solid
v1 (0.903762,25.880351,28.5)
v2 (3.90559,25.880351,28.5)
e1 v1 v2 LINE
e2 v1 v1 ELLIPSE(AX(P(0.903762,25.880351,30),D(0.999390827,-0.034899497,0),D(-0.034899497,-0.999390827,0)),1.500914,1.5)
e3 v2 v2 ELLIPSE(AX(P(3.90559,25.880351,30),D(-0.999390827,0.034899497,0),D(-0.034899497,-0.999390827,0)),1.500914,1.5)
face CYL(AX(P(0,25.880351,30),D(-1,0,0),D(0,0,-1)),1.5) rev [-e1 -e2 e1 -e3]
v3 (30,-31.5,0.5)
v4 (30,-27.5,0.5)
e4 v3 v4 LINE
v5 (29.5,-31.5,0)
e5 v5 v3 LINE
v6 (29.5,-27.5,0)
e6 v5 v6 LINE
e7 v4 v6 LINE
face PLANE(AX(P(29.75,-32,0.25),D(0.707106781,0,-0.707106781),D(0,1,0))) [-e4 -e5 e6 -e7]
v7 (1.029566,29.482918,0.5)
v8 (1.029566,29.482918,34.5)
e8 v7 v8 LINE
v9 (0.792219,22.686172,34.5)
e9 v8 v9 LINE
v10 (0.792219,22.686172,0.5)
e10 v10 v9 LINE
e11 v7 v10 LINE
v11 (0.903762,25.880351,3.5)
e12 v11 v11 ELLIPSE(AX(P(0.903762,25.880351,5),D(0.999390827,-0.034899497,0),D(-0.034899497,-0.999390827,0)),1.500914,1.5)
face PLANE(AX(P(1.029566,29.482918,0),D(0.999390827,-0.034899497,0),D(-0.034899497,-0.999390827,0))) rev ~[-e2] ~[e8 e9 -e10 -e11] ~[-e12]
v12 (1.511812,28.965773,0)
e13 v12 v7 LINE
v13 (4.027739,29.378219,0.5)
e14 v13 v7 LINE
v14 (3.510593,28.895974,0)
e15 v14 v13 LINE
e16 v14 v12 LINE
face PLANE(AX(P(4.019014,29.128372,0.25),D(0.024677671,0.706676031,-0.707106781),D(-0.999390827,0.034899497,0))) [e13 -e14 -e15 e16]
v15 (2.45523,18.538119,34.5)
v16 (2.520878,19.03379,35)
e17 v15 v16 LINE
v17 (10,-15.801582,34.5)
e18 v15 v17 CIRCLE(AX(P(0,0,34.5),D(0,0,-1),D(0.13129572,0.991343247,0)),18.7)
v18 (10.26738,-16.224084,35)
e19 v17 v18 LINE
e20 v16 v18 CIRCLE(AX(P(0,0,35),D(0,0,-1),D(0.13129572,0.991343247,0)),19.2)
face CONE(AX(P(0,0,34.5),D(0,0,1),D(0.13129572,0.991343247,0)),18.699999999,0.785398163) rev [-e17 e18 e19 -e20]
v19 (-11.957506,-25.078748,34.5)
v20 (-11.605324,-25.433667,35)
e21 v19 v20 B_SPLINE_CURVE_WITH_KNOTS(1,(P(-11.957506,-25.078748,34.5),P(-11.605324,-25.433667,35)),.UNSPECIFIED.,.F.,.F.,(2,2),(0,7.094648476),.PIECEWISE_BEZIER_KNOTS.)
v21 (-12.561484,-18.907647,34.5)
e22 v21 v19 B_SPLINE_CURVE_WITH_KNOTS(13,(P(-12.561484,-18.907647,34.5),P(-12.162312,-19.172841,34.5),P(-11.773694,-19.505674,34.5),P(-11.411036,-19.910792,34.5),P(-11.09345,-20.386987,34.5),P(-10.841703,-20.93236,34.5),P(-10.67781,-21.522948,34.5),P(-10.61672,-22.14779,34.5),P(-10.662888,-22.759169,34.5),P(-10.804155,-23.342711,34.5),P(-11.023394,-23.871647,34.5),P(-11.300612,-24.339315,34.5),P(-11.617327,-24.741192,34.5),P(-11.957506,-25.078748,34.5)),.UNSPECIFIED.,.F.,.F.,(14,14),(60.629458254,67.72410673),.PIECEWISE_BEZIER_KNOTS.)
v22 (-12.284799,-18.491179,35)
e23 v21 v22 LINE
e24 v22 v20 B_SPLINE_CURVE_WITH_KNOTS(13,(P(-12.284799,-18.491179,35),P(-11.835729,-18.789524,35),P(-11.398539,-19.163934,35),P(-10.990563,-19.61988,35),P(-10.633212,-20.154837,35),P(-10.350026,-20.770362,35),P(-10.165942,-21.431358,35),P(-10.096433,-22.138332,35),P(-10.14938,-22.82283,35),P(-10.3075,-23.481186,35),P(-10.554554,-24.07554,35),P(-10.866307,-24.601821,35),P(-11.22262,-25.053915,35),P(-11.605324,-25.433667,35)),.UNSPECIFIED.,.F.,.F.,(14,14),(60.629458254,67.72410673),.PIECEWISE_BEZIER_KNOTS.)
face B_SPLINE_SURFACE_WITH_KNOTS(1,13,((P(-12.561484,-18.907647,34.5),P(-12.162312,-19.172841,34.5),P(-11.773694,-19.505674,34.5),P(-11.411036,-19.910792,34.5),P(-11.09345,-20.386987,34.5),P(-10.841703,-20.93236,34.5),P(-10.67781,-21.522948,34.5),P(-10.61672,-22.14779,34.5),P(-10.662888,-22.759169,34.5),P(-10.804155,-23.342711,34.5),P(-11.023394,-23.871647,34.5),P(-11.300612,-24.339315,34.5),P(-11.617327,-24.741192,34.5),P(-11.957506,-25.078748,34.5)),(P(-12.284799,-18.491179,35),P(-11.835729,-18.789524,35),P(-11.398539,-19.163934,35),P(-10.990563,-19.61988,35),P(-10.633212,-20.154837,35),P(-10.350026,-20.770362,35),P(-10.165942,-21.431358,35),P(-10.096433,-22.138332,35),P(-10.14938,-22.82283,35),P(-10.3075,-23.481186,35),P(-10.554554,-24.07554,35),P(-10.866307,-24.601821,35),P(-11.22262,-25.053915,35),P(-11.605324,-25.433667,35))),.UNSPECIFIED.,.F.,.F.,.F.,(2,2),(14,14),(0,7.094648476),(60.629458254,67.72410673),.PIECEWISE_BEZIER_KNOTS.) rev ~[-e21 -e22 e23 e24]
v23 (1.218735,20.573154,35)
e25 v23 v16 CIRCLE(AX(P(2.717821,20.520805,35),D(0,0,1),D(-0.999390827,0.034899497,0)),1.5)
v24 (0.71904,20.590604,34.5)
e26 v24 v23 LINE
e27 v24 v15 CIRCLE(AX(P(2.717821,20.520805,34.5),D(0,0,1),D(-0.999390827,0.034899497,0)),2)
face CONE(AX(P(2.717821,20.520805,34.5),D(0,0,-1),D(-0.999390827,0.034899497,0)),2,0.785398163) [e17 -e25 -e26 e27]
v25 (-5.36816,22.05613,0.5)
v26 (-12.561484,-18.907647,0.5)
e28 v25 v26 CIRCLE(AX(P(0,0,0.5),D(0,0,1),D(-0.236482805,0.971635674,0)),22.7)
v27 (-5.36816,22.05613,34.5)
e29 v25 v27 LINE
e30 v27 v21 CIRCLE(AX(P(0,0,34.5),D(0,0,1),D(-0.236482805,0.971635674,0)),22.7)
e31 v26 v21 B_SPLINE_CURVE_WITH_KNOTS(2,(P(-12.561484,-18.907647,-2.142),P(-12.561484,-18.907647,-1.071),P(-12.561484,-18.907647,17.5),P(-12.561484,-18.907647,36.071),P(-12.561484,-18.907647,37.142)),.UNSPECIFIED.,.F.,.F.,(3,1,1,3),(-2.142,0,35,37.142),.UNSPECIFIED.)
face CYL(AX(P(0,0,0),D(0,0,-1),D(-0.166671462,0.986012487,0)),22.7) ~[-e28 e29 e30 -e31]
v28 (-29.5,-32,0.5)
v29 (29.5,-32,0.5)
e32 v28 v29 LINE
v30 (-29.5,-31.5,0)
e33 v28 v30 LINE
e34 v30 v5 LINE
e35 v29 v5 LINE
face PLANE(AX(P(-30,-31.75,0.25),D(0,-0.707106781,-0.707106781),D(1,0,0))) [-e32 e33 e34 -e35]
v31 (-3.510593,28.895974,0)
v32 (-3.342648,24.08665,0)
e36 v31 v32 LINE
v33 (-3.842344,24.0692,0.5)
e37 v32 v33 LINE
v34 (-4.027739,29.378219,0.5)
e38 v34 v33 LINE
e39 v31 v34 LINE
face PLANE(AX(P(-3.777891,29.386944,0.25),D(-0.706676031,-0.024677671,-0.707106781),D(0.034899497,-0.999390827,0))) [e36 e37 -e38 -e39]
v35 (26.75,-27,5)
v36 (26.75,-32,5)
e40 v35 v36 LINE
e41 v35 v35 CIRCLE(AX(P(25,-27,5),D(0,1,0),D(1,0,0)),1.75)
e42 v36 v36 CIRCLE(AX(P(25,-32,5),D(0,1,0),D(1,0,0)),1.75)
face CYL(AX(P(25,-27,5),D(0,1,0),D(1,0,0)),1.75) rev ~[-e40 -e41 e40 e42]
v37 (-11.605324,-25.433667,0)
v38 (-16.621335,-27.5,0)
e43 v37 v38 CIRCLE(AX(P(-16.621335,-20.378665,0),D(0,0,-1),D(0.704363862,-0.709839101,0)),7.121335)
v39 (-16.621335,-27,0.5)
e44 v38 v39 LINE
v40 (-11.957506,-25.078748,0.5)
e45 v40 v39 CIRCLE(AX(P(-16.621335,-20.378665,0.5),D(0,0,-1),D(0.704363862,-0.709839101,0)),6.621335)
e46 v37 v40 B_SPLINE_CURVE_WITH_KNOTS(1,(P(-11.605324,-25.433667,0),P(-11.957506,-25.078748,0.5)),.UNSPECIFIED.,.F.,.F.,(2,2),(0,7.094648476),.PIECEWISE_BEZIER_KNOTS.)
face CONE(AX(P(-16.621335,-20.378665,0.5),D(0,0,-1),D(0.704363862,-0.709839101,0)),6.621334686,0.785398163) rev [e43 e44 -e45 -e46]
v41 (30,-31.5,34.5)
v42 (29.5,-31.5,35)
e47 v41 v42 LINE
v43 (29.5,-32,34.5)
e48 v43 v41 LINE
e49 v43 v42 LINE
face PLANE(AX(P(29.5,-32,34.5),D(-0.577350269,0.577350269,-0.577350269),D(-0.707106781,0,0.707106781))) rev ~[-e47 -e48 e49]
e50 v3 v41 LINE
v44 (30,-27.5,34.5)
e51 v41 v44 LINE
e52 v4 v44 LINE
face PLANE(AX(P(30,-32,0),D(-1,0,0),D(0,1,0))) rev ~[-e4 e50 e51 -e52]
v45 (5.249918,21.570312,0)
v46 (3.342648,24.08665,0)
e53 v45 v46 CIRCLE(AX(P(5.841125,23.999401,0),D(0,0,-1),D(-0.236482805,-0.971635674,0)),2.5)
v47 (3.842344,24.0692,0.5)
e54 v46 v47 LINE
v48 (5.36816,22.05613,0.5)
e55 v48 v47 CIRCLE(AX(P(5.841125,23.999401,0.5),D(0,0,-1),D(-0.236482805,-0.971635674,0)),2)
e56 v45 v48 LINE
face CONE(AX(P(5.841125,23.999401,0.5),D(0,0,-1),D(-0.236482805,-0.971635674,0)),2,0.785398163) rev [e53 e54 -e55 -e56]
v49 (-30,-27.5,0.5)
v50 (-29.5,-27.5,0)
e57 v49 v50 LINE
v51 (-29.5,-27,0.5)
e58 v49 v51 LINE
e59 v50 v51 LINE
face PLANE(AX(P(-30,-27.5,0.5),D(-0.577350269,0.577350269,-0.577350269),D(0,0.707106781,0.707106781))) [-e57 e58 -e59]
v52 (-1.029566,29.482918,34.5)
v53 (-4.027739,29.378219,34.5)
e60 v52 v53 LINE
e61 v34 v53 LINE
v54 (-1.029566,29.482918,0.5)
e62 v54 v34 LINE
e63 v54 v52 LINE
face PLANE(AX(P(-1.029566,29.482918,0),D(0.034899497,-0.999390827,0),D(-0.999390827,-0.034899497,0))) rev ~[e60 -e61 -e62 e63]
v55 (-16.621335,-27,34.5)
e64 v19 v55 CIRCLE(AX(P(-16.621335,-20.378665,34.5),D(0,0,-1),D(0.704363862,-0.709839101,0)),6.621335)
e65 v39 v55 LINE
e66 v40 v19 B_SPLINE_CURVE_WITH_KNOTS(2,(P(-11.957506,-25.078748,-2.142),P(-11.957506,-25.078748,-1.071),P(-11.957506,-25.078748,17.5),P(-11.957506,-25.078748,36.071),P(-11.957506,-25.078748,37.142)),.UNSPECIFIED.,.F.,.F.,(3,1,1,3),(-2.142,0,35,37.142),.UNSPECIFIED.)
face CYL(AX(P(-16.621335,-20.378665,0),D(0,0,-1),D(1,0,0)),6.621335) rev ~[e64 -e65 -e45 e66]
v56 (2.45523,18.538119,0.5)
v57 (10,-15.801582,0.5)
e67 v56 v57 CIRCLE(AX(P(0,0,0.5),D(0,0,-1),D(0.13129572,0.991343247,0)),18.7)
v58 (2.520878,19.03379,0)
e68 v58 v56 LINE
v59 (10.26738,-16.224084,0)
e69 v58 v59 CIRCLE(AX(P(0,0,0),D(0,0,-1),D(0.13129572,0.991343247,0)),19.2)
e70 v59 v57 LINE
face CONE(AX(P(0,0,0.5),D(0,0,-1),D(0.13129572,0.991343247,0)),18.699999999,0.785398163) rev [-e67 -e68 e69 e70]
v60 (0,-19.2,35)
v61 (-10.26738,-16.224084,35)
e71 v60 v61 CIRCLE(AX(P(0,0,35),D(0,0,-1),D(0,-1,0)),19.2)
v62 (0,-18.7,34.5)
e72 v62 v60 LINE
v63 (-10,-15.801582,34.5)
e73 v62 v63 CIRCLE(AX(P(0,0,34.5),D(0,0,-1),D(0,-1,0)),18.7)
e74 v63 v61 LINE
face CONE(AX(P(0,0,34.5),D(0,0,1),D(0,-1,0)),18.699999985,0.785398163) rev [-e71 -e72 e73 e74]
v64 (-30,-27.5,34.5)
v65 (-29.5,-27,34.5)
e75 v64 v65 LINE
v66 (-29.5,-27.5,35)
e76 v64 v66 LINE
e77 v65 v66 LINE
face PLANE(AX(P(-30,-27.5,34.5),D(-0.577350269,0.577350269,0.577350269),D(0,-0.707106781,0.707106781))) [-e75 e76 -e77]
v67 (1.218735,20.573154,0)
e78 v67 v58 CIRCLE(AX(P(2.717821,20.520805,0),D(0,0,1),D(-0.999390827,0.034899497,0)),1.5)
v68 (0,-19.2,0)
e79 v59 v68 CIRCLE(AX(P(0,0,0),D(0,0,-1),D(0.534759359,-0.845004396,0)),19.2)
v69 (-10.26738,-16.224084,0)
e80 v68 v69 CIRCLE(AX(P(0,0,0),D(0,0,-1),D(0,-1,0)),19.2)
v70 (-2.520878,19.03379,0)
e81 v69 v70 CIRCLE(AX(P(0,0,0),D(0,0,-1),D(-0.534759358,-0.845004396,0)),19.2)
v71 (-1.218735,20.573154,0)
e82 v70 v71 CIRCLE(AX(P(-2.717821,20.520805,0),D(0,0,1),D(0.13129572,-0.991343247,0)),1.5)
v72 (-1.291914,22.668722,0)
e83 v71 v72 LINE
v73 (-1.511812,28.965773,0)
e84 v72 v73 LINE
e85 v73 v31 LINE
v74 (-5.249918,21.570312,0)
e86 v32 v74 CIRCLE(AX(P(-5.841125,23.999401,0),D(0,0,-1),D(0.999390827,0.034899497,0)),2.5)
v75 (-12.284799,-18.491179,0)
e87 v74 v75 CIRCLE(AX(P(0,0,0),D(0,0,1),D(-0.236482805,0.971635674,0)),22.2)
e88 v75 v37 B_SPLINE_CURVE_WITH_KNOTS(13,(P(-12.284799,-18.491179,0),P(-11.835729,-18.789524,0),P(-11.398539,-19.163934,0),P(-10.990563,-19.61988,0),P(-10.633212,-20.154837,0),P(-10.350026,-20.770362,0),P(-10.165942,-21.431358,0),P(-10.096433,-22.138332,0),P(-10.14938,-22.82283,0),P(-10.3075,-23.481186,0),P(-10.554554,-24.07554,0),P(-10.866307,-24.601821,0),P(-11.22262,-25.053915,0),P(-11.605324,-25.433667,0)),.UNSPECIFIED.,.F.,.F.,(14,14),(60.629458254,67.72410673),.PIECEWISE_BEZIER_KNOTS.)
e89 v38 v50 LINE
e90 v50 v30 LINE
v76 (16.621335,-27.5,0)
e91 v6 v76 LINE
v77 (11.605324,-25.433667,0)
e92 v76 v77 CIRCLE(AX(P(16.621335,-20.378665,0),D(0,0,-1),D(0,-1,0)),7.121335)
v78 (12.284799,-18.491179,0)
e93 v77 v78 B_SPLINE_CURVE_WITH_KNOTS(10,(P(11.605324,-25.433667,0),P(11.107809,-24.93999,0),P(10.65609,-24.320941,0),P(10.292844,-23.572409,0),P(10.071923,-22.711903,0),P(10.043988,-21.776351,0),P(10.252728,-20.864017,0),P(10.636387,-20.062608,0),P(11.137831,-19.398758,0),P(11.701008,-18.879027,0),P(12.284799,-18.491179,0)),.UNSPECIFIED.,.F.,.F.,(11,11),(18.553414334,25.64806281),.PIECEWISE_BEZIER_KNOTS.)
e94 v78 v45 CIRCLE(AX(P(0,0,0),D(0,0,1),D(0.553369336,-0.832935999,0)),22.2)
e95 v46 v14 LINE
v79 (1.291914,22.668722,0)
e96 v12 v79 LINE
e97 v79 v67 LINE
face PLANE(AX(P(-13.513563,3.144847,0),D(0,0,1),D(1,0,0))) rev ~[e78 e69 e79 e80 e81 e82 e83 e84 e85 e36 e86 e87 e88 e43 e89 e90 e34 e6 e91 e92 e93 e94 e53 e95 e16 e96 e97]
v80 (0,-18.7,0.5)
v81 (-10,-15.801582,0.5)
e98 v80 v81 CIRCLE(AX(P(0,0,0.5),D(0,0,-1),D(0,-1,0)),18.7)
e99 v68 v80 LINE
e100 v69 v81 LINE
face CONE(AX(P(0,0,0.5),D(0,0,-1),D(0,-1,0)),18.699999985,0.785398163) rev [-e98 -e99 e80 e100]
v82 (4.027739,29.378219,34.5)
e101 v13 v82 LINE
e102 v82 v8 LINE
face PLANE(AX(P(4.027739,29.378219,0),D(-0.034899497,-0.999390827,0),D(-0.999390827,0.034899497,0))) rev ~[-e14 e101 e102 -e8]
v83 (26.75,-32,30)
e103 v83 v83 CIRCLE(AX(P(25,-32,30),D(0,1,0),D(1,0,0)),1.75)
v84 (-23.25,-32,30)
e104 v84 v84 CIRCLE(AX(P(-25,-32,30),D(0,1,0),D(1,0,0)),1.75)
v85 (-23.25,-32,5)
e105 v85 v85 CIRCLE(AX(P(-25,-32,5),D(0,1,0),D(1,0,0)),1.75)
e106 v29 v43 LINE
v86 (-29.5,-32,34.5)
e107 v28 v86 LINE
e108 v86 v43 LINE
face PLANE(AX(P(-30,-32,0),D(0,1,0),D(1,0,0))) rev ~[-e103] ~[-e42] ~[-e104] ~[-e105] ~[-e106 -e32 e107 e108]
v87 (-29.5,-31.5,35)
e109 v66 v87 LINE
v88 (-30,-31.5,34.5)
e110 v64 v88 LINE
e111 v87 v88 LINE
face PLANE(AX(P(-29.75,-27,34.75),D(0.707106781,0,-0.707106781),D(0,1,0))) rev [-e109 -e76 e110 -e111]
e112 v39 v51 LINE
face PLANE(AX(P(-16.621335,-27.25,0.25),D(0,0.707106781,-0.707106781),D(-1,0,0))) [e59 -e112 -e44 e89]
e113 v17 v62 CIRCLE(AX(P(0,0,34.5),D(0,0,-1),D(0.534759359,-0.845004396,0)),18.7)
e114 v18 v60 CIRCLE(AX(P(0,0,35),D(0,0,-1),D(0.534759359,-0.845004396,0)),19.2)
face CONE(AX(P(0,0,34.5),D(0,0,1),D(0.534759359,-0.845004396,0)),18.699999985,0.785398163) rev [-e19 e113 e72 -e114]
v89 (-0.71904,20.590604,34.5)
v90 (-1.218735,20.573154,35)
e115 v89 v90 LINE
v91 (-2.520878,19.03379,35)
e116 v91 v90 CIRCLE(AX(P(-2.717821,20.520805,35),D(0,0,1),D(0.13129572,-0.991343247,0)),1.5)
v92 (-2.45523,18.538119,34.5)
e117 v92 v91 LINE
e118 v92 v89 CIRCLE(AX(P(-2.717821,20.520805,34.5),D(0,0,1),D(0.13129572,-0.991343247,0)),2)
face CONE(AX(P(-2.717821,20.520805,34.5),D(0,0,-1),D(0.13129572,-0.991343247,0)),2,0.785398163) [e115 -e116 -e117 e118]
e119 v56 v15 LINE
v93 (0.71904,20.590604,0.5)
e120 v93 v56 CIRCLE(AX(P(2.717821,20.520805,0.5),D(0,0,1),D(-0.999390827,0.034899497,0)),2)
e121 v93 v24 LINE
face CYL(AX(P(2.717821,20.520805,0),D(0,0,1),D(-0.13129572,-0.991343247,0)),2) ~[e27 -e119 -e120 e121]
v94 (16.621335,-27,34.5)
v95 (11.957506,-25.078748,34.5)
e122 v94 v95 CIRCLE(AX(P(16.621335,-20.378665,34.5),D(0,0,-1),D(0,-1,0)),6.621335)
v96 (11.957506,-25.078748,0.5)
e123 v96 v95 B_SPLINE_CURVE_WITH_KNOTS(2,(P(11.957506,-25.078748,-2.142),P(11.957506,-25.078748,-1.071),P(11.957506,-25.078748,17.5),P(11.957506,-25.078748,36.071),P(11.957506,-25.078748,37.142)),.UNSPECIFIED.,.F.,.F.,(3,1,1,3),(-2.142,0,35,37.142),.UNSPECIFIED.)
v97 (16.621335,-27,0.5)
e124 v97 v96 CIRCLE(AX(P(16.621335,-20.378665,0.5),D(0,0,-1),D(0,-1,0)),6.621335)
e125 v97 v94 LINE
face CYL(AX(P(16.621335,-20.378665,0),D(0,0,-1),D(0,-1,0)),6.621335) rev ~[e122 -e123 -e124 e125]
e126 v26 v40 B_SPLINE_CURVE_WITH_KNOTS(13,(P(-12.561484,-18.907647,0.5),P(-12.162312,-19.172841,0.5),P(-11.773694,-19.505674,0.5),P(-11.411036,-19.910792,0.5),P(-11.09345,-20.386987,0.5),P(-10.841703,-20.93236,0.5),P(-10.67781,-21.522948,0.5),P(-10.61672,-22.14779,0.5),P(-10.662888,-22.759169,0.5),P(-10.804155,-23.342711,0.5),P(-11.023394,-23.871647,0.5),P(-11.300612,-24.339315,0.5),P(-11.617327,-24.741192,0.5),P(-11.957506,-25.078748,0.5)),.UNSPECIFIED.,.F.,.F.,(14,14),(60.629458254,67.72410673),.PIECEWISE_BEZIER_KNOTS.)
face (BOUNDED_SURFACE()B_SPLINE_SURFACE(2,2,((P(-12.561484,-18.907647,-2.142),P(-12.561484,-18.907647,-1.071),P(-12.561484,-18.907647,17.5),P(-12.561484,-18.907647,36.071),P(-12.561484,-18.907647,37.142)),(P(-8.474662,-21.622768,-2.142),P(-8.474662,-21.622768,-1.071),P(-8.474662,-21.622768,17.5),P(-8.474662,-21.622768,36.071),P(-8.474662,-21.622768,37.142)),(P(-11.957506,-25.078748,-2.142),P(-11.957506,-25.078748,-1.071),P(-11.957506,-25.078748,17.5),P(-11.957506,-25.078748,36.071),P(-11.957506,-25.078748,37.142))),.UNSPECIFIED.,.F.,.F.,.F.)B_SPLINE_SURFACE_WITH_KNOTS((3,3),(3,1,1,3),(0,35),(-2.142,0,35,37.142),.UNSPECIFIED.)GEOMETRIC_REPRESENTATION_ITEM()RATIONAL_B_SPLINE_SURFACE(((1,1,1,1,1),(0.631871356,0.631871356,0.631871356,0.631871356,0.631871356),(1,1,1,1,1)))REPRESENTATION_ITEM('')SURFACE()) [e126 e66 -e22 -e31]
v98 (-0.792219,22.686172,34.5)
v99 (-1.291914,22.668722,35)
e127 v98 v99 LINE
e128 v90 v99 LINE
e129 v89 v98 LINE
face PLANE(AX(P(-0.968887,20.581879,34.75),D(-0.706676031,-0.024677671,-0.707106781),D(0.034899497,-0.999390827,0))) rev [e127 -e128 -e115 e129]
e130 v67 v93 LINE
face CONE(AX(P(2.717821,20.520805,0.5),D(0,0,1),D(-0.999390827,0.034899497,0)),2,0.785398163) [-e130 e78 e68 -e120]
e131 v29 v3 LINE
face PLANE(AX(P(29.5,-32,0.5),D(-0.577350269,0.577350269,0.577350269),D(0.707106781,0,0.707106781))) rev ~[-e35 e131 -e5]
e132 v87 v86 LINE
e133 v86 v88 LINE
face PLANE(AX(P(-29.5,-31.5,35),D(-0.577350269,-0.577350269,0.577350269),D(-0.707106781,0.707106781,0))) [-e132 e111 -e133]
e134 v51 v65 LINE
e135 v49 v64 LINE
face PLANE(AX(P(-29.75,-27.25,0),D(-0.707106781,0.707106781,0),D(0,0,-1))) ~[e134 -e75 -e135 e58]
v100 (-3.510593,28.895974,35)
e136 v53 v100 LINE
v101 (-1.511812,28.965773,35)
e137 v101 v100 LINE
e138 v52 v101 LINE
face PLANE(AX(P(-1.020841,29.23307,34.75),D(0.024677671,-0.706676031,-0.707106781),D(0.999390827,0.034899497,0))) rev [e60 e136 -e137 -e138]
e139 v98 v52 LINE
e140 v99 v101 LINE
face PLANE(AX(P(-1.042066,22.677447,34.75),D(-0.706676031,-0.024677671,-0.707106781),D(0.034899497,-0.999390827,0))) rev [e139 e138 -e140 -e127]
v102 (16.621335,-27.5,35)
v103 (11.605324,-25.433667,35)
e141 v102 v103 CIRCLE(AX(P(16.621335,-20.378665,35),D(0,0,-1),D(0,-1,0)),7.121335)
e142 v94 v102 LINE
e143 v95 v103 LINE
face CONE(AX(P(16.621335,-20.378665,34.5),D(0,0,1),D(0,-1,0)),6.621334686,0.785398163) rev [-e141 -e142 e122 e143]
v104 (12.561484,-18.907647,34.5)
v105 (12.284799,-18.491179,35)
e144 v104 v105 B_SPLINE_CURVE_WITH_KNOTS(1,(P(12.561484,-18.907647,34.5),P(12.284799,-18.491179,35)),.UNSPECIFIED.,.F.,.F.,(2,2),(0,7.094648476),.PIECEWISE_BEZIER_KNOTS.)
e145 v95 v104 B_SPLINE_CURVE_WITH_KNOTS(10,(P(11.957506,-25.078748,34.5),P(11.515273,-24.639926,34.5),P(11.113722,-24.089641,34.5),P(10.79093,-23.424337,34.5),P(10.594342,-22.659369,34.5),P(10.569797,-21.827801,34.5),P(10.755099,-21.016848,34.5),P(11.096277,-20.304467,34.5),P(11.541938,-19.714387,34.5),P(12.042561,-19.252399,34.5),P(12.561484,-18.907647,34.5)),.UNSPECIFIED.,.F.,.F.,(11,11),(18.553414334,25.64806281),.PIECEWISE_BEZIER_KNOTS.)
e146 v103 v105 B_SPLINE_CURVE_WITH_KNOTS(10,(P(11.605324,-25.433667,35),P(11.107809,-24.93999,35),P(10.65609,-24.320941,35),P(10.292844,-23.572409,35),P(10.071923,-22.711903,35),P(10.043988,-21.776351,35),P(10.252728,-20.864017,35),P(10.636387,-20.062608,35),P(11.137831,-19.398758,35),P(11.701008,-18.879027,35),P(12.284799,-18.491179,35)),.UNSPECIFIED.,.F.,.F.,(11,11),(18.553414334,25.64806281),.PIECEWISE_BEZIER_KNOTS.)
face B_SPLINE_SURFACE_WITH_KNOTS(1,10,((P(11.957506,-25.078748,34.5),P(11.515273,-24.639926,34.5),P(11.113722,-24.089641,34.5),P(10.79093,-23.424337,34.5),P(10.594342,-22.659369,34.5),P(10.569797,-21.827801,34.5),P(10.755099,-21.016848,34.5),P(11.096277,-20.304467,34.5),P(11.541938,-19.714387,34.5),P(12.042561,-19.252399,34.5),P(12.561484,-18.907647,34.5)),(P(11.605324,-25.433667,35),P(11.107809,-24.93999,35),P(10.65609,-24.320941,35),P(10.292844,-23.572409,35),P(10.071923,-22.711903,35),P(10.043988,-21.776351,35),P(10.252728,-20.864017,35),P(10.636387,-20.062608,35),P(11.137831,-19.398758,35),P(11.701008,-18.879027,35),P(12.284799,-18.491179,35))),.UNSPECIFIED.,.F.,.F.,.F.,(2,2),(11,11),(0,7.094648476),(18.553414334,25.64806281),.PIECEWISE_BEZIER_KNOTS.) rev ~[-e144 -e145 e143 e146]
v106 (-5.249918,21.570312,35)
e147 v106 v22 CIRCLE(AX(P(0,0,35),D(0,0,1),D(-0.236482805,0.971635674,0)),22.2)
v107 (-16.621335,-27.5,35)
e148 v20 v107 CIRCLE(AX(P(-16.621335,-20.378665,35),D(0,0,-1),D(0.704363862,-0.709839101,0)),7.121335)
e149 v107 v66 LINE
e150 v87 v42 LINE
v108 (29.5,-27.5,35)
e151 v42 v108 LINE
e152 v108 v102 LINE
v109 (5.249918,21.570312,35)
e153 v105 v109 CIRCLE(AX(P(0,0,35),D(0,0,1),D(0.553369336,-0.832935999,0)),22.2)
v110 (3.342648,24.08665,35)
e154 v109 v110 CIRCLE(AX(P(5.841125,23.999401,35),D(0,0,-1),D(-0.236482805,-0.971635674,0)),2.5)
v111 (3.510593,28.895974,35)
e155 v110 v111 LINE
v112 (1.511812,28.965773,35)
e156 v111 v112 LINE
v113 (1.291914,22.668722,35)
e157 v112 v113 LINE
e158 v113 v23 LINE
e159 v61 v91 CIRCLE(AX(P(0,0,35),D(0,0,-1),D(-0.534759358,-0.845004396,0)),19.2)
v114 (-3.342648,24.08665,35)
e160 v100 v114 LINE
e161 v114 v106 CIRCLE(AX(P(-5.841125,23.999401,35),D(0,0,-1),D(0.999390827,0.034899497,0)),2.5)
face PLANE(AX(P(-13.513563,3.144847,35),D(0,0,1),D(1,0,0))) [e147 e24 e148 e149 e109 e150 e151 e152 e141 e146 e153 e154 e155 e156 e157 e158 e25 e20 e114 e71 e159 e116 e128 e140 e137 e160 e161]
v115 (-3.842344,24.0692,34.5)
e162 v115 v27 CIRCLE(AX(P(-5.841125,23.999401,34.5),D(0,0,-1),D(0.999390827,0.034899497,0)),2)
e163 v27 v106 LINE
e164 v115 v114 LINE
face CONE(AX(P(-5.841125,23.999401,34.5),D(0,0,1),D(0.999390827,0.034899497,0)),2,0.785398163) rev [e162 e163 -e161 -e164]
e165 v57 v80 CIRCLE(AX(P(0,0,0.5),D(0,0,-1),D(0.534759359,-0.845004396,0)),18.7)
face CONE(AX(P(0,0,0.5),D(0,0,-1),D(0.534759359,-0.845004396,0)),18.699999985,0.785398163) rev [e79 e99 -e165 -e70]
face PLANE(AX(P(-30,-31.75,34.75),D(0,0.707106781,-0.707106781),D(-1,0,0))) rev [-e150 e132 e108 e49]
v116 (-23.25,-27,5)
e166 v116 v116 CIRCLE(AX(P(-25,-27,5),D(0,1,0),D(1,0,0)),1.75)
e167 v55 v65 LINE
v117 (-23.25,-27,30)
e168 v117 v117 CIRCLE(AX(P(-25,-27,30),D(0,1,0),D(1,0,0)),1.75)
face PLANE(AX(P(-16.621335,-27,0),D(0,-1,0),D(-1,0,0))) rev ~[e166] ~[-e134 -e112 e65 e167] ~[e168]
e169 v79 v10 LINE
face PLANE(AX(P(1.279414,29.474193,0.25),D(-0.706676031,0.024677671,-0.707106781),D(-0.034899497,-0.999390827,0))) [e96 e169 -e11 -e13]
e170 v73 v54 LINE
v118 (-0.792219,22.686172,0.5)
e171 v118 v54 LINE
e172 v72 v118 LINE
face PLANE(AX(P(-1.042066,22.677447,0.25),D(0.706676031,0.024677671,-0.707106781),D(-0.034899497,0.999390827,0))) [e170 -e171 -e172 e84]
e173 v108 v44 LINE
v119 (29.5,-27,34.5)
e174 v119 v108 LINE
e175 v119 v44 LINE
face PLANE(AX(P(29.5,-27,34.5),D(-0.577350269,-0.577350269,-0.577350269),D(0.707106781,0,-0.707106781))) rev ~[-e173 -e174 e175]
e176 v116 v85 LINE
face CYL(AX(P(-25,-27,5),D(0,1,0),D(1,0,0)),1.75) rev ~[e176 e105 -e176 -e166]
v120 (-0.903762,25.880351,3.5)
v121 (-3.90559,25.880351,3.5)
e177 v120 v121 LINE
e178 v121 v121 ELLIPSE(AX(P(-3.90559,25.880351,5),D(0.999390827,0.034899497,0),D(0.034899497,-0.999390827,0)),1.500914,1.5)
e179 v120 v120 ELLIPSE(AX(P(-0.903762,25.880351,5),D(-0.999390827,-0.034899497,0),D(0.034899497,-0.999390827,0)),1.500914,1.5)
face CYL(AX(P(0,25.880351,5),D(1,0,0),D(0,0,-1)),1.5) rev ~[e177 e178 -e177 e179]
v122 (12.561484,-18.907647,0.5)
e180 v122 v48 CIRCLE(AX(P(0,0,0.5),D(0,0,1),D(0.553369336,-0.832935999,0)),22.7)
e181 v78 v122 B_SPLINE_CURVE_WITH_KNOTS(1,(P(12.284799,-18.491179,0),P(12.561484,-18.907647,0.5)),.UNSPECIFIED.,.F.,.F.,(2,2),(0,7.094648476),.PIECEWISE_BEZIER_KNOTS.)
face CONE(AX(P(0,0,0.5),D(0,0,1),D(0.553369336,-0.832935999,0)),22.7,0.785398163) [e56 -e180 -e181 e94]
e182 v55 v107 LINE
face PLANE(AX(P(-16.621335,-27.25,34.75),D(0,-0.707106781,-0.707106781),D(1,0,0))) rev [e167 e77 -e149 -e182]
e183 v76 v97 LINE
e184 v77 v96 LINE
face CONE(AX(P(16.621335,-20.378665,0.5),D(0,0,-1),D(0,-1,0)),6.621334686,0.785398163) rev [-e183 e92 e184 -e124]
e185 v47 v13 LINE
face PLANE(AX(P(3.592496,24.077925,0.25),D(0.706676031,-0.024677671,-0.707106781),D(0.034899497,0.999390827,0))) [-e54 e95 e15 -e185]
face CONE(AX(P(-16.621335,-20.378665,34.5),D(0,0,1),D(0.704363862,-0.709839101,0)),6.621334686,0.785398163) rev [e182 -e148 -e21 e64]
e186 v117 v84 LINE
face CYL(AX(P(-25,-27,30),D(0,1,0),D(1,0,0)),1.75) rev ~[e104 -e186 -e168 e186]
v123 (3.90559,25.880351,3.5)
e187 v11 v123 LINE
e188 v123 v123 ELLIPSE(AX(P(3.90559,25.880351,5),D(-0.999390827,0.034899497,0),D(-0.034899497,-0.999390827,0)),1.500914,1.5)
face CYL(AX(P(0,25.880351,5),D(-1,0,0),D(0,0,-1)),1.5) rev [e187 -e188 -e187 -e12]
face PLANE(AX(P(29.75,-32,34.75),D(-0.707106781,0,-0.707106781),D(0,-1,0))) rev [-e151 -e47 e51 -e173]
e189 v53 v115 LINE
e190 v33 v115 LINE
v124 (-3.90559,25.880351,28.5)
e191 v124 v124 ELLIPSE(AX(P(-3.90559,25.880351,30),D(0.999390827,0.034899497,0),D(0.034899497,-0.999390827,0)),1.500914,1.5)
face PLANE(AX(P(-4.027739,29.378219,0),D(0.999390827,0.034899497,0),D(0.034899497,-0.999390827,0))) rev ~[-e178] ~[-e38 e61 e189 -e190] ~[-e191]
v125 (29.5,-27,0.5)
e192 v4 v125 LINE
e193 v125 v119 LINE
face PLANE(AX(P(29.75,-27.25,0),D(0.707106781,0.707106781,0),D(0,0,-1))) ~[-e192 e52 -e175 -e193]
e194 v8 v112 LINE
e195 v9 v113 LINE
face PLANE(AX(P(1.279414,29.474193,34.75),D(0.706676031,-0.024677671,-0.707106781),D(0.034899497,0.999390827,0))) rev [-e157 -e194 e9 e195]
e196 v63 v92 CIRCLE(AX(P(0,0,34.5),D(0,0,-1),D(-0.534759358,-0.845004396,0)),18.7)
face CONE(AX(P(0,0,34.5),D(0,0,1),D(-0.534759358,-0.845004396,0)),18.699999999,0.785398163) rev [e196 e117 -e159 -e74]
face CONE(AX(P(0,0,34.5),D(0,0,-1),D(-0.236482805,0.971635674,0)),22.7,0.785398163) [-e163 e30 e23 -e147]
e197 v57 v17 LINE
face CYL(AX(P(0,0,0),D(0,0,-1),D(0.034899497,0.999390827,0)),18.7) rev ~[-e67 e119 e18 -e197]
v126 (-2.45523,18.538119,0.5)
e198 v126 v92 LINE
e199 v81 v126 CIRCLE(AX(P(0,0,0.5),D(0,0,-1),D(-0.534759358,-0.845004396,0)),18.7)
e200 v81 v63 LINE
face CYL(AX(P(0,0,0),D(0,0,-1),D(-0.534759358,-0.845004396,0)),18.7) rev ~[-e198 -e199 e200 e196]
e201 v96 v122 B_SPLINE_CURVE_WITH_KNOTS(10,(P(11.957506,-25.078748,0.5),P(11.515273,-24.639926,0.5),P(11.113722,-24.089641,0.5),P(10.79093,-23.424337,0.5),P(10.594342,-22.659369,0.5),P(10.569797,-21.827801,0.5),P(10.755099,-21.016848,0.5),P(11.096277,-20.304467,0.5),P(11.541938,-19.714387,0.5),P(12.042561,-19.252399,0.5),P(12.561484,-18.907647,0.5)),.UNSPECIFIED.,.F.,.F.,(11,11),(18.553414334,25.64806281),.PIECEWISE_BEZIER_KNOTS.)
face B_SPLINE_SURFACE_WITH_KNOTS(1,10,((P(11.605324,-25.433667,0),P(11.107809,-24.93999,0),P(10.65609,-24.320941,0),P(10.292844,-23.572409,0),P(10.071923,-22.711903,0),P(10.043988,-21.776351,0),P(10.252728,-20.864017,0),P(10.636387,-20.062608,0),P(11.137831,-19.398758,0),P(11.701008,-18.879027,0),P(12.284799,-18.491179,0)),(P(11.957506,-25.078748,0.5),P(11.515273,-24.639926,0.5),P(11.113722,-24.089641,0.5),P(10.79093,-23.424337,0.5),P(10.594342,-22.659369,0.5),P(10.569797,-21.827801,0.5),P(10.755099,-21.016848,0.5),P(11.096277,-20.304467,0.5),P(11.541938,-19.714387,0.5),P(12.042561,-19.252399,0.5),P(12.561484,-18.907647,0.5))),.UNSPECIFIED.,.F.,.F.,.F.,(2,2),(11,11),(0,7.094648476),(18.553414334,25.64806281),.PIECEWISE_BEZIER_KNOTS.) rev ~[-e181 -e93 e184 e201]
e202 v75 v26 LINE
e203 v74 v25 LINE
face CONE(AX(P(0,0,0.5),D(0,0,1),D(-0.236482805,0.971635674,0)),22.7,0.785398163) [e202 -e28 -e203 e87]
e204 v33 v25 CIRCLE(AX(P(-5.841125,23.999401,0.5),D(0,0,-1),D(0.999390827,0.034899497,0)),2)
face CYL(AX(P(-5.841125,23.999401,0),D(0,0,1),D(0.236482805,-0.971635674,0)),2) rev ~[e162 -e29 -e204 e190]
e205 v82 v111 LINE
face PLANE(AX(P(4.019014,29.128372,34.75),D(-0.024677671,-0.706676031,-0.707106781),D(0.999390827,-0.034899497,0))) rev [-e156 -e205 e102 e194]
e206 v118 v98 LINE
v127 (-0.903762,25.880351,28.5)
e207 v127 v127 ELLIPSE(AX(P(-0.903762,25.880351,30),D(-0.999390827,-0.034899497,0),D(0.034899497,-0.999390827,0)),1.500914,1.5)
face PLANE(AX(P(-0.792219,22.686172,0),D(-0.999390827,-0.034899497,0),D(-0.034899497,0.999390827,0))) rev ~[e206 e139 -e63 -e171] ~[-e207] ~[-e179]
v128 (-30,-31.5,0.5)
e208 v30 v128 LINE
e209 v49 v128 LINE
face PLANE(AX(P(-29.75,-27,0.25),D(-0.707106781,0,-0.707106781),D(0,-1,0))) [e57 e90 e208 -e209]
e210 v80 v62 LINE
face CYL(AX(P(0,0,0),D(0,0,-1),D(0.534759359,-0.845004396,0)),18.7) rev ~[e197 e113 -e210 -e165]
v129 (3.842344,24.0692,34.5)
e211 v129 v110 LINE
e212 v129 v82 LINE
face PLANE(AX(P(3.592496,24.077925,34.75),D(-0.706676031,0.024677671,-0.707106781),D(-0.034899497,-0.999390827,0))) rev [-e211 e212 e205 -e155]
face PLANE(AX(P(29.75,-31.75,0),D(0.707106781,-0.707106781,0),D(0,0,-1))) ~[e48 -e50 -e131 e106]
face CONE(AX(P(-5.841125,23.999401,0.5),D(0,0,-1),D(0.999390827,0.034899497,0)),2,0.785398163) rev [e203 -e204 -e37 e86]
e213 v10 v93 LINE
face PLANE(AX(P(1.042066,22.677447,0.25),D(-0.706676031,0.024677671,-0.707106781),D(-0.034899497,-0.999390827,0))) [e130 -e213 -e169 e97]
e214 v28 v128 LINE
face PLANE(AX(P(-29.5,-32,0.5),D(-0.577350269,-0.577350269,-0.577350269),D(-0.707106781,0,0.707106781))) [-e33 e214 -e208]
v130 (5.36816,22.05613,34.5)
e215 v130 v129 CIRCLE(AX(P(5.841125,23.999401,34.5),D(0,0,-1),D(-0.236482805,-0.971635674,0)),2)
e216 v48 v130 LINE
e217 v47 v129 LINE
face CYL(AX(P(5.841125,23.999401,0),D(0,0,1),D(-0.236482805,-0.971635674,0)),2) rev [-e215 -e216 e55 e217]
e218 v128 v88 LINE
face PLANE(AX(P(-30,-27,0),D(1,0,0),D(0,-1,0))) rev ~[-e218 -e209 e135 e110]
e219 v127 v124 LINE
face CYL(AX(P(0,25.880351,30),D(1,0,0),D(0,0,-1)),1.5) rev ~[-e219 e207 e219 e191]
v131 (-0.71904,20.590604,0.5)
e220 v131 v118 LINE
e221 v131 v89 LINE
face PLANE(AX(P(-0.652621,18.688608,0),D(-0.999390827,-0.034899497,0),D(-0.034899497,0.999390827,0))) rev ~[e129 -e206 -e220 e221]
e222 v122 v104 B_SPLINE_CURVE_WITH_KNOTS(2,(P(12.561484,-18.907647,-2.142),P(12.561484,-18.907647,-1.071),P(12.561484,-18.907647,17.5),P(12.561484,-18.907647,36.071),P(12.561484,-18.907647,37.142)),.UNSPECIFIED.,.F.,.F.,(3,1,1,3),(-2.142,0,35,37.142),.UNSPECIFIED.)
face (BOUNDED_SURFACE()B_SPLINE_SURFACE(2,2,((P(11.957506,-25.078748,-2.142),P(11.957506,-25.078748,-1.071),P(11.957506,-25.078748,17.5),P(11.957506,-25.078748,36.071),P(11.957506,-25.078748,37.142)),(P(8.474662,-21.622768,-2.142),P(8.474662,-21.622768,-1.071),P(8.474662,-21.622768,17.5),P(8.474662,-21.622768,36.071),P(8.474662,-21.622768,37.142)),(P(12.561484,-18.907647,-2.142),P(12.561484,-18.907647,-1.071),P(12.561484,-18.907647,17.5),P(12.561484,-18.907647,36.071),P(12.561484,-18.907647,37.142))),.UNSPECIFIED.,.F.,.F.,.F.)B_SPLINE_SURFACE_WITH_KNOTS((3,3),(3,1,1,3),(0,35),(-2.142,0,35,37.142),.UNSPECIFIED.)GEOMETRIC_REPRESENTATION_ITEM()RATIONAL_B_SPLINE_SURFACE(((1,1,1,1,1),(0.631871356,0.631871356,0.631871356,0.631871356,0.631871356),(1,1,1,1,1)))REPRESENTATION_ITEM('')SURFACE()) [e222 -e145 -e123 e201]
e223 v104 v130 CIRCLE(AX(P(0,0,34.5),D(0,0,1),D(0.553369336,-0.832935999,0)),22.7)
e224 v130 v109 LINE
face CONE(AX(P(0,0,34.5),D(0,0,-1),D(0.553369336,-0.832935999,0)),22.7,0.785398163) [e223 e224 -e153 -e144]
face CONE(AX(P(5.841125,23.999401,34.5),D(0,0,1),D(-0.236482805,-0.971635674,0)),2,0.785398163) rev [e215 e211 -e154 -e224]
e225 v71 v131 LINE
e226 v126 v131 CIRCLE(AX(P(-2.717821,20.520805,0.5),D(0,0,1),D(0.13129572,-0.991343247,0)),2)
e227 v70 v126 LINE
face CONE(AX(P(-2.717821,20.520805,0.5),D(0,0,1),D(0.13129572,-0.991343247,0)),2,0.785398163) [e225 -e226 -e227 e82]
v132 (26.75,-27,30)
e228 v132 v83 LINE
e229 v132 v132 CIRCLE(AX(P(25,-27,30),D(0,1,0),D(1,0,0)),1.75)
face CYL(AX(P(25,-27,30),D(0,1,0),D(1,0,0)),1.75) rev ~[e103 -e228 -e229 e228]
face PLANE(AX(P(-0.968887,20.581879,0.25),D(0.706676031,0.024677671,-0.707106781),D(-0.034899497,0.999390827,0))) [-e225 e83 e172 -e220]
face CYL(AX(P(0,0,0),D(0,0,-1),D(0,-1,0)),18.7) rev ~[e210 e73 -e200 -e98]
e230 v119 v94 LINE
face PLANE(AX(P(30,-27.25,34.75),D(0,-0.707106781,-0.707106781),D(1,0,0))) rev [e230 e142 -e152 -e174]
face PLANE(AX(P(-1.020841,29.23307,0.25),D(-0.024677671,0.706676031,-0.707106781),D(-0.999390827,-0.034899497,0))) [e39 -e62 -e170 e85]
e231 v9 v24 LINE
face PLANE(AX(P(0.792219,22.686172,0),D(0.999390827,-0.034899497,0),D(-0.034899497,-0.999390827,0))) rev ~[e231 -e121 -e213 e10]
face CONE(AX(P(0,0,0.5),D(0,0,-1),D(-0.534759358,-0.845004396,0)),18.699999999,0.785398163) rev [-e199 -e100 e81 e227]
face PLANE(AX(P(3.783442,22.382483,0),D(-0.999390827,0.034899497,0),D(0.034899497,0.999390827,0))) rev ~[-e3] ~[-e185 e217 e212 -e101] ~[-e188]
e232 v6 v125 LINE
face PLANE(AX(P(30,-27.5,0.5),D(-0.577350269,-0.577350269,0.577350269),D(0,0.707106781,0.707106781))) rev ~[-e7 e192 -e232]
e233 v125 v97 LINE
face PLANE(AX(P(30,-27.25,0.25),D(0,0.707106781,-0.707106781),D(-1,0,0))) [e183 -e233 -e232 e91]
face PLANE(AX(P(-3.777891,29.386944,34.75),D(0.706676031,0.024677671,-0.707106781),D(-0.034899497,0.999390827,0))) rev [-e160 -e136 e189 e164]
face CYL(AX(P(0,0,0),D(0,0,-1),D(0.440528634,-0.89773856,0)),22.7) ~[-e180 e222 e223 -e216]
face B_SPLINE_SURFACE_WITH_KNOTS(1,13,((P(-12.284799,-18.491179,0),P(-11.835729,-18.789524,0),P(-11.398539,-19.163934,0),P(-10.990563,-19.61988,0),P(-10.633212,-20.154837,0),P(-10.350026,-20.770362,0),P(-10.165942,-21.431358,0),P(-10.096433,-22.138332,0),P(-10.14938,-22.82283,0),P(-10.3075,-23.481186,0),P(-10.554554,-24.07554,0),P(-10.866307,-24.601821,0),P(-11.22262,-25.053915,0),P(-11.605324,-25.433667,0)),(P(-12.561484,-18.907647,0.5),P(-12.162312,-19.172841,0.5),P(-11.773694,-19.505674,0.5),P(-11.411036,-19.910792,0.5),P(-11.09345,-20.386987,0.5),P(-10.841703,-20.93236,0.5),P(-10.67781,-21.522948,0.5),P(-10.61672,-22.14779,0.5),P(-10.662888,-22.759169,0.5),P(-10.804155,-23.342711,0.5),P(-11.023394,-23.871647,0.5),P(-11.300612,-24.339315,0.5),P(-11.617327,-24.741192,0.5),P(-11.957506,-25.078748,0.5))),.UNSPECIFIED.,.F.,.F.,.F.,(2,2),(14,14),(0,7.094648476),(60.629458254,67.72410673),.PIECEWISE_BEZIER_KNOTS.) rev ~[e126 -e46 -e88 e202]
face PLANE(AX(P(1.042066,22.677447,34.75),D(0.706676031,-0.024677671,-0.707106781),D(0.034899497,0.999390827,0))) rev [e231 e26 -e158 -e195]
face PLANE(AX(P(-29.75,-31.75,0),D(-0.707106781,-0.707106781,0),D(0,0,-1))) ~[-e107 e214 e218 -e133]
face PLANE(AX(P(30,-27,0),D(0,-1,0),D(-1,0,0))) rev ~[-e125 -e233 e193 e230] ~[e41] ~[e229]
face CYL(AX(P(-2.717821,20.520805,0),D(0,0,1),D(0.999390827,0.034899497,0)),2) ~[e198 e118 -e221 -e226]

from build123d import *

# Parameters (mm, degrees)
BOSS_EXTRUDE1_DEPTH     = 35
SKETCH2_R               = 1.5
CUT_EXTRUDE1_DEPTH      = 31
CUT_EXTRUDE1_DEPTH_BACK = 31
SKETCH3_R               = 1.75
CUT_EXTRUDE2_DEPTH      = 6
FILLET1_R               = 4
FILLET2_R               = 2
CHAMFER1_SIZE           = 0.5


with BuildPart() as part:
    # Sketch1 → Boss-Extrude1 (new body)
    with BuildSketch(Plane.XY):
        with BuildLine():
            ThreePointArc((-10, -15.801582199), (-18.048902858, 4.891534078), (-0.652620588, 18.688608465))
            Line((-0.652620588, 18.688608465), (-0.792218575, 22.686171773))
            ThreePointArc((-0.792218575, 22.686171773), (-2.292863817, 22.583905232), (-3.783442178, 22.382483448))
            ThreePointArc((-3.783442178, 22.382483448), (-22.463854977, 3.265764775), (-10, -20.378665314))
            Line((-10, -20.378665314), (-10, -15.801582199))
        make_face()
        with BuildLine():
            Line((0, -22.7), (0, -18.7))
            ThreePointArc((0, -18.7), (-5.205785862, -17.960784882), (-10, -15.801582199))
            Line((-10, -15.801582199), (-10, -20.378665314))
            ThreePointArc((-10, -20.378665314), (-5.132947368, -22.112052173), (0, -22.7))
        make_face()
        with BuildLine():
            ThreePointArc((10, -15.801582199), (5.205785862, -17.960784882), (0, -18.7))
            Line((0, -18.7), (0, -22.7))
            ThreePointArc((0, -22.7), (5.132947368, -22.112052173), (10, -20.378665314))
            Line((10, -20.378665314), (10, -15.801582199))
        make_face()
        with BuildLine():
            Line((0.792218575, 22.686171773), (0.652620588, 18.688608465))
            ThreePointArc((0.652620588, 18.688608465), (18.048902858, 4.891534078), (10, -15.801582199))
            Line((10, -15.801582199), (10, -20.378665314))
            ThreePointArc((10, -20.378665314), (22.463854977, 3.265764775), (3.783442178, 22.382483448))
            ThreePointArc((3.783442178, 22.382483448), (2.292863817, 22.583905232), (0.792218575, 22.686171773))
        make_face()
        with BuildLine():
            ThreePointArc((10, -20.378665314), (5.132947368, -22.112052173), (0, -22.7))
            Line((0, -22.7), (0, -32))
            Line((0, -32), (30, -32))
            Line((30, -32), (30, -27))
            Line((30, -27), (16.621334686, -27))
            ThreePointArc((16.621334686, -27), (11.939344029, -25.060655971), (10, -20.378665314))
        make_face()
        with BuildLine():
            Line((0, -32), (0, -22.7))
            ThreePointArc((0, -22.7), (-5.132947368, -22.112052173), (-10, -20.378665314))
            ThreePointArc((-10, -20.378665314), (-11.939344029, -25.060655971), (-16.621334686, -27))
            Line((-16.621334686, -27), (-30, -27))
            Line((-30, -27), (-30, -32))
            Line((-30, -32), (0, -32))
        make_face()
        with BuildLine():
            ThreePointArc((-3.783442178, 22.382483448), (-2.292863817, 22.583905232), (-0.792218575, 22.686171773))
            Line((-0.792218575, 22.686171773), (-1.029566174, 29.482917727))
            Line((-1.029566174, 29.482917727), (-4.027738655, 29.378219237))
            Line((-4.027738655, 29.378219237), (-3.783442178, 22.382483448))
        make_face()
        with BuildLine():
            Line((1.029566174, 29.482917727), (0.792218575, 22.686171773))
            ThreePointArc((0.792218575, 22.686171773), (2.292863817, 22.583905232), (3.783442178, 22.382483448))
            Line((3.783442178, 22.382483448), (4.027738655, 29.378219237))
            Line((4.027738655, 29.378219237), (1.029566174, 29.482917727))
        make_face()
    extrude(amount=BOSS_EXTRUDE1_DEPTH)

    # Sketch2 → Cut-Extrude1 (cut, two sides)
    with BuildSketch(Plane(origin=(0, 0, 0), x_dir=(0, 0, -1), z_dir=(1, 0, 0))) as cut_extrude1_sk:
        with Locations((-30, 25.880351342)):
            Circle(SKETCH2_R)
        with Locations((-5, 25.880351342)):
            Circle(SKETCH2_R)
    extrude(amount=CUT_EXTRUDE1_DEPTH, mode=Mode.SUBTRACT)
    extrude(cut_extrude1_sk.sketch, amount=-CUT_EXTRUDE1_DEPTH_BACK, mode=Mode.SUBTRACT)

    # Sketch3 → Cut-Extrude2 (cut, through all)
    with BuildSketch(Plane(origin=(0, -27, 0), x_dir=(1, 0, 0), z_dir=(0, 1, 0))):
        with Locations((-25, -5)):
            Circle(SKETCH3_R)
        with Locations((-25, -30)):
            Circle(SKETCH3_R)
        with Locations((25, -30)):
            Circle(SKETCH3_R)
        with Locations((25, -5)):
            Circle(SKETCH3_R)
    extrude(amount=-CUT_EXTRUDE2_DEPTH, mode=Mode.SUBTRACT)

    # Fillet1
    fillet1_edges = [part.edges().sort_by_distance(p)[0] for p in [
        (-10, -20.378665314, 17.5),
        (10, -20.378665314, 17.5),
    ]]
    fillet(fillet1_edges, radius=FILLET1_R)

    # Fillet2
    fillet2_edges = [part.edges().sort_by_distance(p)[0] for p in [
        (-3.783442178, 22.382483448, 17.5),
        (-0.652620588, 18.688608465, 17.5),
        (0.652620588, 18.688608465, 17.5),
        (3.783442178, 22.382483448, 17.5),
    ]]
    fillet(fillet2_edges, radius=FILLET2_R)

    # Chamfer1
    chamfer1_edges = [part.edges().sort_by_distance(p)[0] for p in [
        (30, -29.5, 35),
        (-0.874302959, 25.03676097, 0),
        (-0.874302959, 25.03676097, 35),
        (-22.357902089, 3.926094008, 0),
        (-17.579381492, -6.376154512, 0),
        (0.874302959, 25.03676097, 0),
        (1.190855047, 19.229149784, 0),
        (-1.190855047, 19.229149784, 0),
        (-17.579381492, -6.376154512, 35),
        (0.874302959, 25.03676097, 35),
        (-22.357902089, 3.926094008, 35),
        (1.190855047, 19.229149784, 35),
        (-1.190855047, 19.229149784, 35),
        (4.247231716, 22.791302098, 0),
        (4.247231716, 22.791302098, 35),
        (-4.247231716, 22.791302098, 0),
        (-4.247231716, 22.791302098, 35),
        (23.310667343, -27, 35),
        (-30, -29.5, 0),
        (-23.310667343, -27, 0),
        (-14.099306205, -26.500874504, 0),
        (-3.935041139, 26.723709689, 0),
        (-2.528652414, 29.430568482, 0),
        (14.099306205, -26.500874504, 35),
        (2.528652414, 29.430568482, 0),
        (3.935041139, 26.723709689, 0),
        (14.099306205, -26.500874504, 0),
        (23.310667343, -27, 0),
        (30, -29.5, 0),
        (0, -32, 0),
        (3.935041139, 26.723709689, 35),
        (-30, -32, 17.5),
        (-30, -27, 17.5),
        (30, -27, 17.5),
        (30, -32, 17.5),
        (2.528652414, 29.430568482, 35),
        (0, -32, 35),
        (-2.528652414, 29.430568482, 35),
        (-3.935041139, 26.723709689, 35),
        (-14.099306205, -26.500874504, 35),
        (-23.310667343, -27, 35),
        (-30, -29.5, 35),
        (22.357902089, 3.926094008, 0),
        (22.357902089, 3.926094008, 35),
        (-10.793982585, -21.849764719, 0),
        (-10.793982585, -21.849764719, 35),
        (10.793982585, -21.849764719, 0),
        (10.793982585, -21.849764719, 35),
    ]]
    chamfer(chamfer1_edges, length=CHAMFER1_SIZE)


solid = part.part
